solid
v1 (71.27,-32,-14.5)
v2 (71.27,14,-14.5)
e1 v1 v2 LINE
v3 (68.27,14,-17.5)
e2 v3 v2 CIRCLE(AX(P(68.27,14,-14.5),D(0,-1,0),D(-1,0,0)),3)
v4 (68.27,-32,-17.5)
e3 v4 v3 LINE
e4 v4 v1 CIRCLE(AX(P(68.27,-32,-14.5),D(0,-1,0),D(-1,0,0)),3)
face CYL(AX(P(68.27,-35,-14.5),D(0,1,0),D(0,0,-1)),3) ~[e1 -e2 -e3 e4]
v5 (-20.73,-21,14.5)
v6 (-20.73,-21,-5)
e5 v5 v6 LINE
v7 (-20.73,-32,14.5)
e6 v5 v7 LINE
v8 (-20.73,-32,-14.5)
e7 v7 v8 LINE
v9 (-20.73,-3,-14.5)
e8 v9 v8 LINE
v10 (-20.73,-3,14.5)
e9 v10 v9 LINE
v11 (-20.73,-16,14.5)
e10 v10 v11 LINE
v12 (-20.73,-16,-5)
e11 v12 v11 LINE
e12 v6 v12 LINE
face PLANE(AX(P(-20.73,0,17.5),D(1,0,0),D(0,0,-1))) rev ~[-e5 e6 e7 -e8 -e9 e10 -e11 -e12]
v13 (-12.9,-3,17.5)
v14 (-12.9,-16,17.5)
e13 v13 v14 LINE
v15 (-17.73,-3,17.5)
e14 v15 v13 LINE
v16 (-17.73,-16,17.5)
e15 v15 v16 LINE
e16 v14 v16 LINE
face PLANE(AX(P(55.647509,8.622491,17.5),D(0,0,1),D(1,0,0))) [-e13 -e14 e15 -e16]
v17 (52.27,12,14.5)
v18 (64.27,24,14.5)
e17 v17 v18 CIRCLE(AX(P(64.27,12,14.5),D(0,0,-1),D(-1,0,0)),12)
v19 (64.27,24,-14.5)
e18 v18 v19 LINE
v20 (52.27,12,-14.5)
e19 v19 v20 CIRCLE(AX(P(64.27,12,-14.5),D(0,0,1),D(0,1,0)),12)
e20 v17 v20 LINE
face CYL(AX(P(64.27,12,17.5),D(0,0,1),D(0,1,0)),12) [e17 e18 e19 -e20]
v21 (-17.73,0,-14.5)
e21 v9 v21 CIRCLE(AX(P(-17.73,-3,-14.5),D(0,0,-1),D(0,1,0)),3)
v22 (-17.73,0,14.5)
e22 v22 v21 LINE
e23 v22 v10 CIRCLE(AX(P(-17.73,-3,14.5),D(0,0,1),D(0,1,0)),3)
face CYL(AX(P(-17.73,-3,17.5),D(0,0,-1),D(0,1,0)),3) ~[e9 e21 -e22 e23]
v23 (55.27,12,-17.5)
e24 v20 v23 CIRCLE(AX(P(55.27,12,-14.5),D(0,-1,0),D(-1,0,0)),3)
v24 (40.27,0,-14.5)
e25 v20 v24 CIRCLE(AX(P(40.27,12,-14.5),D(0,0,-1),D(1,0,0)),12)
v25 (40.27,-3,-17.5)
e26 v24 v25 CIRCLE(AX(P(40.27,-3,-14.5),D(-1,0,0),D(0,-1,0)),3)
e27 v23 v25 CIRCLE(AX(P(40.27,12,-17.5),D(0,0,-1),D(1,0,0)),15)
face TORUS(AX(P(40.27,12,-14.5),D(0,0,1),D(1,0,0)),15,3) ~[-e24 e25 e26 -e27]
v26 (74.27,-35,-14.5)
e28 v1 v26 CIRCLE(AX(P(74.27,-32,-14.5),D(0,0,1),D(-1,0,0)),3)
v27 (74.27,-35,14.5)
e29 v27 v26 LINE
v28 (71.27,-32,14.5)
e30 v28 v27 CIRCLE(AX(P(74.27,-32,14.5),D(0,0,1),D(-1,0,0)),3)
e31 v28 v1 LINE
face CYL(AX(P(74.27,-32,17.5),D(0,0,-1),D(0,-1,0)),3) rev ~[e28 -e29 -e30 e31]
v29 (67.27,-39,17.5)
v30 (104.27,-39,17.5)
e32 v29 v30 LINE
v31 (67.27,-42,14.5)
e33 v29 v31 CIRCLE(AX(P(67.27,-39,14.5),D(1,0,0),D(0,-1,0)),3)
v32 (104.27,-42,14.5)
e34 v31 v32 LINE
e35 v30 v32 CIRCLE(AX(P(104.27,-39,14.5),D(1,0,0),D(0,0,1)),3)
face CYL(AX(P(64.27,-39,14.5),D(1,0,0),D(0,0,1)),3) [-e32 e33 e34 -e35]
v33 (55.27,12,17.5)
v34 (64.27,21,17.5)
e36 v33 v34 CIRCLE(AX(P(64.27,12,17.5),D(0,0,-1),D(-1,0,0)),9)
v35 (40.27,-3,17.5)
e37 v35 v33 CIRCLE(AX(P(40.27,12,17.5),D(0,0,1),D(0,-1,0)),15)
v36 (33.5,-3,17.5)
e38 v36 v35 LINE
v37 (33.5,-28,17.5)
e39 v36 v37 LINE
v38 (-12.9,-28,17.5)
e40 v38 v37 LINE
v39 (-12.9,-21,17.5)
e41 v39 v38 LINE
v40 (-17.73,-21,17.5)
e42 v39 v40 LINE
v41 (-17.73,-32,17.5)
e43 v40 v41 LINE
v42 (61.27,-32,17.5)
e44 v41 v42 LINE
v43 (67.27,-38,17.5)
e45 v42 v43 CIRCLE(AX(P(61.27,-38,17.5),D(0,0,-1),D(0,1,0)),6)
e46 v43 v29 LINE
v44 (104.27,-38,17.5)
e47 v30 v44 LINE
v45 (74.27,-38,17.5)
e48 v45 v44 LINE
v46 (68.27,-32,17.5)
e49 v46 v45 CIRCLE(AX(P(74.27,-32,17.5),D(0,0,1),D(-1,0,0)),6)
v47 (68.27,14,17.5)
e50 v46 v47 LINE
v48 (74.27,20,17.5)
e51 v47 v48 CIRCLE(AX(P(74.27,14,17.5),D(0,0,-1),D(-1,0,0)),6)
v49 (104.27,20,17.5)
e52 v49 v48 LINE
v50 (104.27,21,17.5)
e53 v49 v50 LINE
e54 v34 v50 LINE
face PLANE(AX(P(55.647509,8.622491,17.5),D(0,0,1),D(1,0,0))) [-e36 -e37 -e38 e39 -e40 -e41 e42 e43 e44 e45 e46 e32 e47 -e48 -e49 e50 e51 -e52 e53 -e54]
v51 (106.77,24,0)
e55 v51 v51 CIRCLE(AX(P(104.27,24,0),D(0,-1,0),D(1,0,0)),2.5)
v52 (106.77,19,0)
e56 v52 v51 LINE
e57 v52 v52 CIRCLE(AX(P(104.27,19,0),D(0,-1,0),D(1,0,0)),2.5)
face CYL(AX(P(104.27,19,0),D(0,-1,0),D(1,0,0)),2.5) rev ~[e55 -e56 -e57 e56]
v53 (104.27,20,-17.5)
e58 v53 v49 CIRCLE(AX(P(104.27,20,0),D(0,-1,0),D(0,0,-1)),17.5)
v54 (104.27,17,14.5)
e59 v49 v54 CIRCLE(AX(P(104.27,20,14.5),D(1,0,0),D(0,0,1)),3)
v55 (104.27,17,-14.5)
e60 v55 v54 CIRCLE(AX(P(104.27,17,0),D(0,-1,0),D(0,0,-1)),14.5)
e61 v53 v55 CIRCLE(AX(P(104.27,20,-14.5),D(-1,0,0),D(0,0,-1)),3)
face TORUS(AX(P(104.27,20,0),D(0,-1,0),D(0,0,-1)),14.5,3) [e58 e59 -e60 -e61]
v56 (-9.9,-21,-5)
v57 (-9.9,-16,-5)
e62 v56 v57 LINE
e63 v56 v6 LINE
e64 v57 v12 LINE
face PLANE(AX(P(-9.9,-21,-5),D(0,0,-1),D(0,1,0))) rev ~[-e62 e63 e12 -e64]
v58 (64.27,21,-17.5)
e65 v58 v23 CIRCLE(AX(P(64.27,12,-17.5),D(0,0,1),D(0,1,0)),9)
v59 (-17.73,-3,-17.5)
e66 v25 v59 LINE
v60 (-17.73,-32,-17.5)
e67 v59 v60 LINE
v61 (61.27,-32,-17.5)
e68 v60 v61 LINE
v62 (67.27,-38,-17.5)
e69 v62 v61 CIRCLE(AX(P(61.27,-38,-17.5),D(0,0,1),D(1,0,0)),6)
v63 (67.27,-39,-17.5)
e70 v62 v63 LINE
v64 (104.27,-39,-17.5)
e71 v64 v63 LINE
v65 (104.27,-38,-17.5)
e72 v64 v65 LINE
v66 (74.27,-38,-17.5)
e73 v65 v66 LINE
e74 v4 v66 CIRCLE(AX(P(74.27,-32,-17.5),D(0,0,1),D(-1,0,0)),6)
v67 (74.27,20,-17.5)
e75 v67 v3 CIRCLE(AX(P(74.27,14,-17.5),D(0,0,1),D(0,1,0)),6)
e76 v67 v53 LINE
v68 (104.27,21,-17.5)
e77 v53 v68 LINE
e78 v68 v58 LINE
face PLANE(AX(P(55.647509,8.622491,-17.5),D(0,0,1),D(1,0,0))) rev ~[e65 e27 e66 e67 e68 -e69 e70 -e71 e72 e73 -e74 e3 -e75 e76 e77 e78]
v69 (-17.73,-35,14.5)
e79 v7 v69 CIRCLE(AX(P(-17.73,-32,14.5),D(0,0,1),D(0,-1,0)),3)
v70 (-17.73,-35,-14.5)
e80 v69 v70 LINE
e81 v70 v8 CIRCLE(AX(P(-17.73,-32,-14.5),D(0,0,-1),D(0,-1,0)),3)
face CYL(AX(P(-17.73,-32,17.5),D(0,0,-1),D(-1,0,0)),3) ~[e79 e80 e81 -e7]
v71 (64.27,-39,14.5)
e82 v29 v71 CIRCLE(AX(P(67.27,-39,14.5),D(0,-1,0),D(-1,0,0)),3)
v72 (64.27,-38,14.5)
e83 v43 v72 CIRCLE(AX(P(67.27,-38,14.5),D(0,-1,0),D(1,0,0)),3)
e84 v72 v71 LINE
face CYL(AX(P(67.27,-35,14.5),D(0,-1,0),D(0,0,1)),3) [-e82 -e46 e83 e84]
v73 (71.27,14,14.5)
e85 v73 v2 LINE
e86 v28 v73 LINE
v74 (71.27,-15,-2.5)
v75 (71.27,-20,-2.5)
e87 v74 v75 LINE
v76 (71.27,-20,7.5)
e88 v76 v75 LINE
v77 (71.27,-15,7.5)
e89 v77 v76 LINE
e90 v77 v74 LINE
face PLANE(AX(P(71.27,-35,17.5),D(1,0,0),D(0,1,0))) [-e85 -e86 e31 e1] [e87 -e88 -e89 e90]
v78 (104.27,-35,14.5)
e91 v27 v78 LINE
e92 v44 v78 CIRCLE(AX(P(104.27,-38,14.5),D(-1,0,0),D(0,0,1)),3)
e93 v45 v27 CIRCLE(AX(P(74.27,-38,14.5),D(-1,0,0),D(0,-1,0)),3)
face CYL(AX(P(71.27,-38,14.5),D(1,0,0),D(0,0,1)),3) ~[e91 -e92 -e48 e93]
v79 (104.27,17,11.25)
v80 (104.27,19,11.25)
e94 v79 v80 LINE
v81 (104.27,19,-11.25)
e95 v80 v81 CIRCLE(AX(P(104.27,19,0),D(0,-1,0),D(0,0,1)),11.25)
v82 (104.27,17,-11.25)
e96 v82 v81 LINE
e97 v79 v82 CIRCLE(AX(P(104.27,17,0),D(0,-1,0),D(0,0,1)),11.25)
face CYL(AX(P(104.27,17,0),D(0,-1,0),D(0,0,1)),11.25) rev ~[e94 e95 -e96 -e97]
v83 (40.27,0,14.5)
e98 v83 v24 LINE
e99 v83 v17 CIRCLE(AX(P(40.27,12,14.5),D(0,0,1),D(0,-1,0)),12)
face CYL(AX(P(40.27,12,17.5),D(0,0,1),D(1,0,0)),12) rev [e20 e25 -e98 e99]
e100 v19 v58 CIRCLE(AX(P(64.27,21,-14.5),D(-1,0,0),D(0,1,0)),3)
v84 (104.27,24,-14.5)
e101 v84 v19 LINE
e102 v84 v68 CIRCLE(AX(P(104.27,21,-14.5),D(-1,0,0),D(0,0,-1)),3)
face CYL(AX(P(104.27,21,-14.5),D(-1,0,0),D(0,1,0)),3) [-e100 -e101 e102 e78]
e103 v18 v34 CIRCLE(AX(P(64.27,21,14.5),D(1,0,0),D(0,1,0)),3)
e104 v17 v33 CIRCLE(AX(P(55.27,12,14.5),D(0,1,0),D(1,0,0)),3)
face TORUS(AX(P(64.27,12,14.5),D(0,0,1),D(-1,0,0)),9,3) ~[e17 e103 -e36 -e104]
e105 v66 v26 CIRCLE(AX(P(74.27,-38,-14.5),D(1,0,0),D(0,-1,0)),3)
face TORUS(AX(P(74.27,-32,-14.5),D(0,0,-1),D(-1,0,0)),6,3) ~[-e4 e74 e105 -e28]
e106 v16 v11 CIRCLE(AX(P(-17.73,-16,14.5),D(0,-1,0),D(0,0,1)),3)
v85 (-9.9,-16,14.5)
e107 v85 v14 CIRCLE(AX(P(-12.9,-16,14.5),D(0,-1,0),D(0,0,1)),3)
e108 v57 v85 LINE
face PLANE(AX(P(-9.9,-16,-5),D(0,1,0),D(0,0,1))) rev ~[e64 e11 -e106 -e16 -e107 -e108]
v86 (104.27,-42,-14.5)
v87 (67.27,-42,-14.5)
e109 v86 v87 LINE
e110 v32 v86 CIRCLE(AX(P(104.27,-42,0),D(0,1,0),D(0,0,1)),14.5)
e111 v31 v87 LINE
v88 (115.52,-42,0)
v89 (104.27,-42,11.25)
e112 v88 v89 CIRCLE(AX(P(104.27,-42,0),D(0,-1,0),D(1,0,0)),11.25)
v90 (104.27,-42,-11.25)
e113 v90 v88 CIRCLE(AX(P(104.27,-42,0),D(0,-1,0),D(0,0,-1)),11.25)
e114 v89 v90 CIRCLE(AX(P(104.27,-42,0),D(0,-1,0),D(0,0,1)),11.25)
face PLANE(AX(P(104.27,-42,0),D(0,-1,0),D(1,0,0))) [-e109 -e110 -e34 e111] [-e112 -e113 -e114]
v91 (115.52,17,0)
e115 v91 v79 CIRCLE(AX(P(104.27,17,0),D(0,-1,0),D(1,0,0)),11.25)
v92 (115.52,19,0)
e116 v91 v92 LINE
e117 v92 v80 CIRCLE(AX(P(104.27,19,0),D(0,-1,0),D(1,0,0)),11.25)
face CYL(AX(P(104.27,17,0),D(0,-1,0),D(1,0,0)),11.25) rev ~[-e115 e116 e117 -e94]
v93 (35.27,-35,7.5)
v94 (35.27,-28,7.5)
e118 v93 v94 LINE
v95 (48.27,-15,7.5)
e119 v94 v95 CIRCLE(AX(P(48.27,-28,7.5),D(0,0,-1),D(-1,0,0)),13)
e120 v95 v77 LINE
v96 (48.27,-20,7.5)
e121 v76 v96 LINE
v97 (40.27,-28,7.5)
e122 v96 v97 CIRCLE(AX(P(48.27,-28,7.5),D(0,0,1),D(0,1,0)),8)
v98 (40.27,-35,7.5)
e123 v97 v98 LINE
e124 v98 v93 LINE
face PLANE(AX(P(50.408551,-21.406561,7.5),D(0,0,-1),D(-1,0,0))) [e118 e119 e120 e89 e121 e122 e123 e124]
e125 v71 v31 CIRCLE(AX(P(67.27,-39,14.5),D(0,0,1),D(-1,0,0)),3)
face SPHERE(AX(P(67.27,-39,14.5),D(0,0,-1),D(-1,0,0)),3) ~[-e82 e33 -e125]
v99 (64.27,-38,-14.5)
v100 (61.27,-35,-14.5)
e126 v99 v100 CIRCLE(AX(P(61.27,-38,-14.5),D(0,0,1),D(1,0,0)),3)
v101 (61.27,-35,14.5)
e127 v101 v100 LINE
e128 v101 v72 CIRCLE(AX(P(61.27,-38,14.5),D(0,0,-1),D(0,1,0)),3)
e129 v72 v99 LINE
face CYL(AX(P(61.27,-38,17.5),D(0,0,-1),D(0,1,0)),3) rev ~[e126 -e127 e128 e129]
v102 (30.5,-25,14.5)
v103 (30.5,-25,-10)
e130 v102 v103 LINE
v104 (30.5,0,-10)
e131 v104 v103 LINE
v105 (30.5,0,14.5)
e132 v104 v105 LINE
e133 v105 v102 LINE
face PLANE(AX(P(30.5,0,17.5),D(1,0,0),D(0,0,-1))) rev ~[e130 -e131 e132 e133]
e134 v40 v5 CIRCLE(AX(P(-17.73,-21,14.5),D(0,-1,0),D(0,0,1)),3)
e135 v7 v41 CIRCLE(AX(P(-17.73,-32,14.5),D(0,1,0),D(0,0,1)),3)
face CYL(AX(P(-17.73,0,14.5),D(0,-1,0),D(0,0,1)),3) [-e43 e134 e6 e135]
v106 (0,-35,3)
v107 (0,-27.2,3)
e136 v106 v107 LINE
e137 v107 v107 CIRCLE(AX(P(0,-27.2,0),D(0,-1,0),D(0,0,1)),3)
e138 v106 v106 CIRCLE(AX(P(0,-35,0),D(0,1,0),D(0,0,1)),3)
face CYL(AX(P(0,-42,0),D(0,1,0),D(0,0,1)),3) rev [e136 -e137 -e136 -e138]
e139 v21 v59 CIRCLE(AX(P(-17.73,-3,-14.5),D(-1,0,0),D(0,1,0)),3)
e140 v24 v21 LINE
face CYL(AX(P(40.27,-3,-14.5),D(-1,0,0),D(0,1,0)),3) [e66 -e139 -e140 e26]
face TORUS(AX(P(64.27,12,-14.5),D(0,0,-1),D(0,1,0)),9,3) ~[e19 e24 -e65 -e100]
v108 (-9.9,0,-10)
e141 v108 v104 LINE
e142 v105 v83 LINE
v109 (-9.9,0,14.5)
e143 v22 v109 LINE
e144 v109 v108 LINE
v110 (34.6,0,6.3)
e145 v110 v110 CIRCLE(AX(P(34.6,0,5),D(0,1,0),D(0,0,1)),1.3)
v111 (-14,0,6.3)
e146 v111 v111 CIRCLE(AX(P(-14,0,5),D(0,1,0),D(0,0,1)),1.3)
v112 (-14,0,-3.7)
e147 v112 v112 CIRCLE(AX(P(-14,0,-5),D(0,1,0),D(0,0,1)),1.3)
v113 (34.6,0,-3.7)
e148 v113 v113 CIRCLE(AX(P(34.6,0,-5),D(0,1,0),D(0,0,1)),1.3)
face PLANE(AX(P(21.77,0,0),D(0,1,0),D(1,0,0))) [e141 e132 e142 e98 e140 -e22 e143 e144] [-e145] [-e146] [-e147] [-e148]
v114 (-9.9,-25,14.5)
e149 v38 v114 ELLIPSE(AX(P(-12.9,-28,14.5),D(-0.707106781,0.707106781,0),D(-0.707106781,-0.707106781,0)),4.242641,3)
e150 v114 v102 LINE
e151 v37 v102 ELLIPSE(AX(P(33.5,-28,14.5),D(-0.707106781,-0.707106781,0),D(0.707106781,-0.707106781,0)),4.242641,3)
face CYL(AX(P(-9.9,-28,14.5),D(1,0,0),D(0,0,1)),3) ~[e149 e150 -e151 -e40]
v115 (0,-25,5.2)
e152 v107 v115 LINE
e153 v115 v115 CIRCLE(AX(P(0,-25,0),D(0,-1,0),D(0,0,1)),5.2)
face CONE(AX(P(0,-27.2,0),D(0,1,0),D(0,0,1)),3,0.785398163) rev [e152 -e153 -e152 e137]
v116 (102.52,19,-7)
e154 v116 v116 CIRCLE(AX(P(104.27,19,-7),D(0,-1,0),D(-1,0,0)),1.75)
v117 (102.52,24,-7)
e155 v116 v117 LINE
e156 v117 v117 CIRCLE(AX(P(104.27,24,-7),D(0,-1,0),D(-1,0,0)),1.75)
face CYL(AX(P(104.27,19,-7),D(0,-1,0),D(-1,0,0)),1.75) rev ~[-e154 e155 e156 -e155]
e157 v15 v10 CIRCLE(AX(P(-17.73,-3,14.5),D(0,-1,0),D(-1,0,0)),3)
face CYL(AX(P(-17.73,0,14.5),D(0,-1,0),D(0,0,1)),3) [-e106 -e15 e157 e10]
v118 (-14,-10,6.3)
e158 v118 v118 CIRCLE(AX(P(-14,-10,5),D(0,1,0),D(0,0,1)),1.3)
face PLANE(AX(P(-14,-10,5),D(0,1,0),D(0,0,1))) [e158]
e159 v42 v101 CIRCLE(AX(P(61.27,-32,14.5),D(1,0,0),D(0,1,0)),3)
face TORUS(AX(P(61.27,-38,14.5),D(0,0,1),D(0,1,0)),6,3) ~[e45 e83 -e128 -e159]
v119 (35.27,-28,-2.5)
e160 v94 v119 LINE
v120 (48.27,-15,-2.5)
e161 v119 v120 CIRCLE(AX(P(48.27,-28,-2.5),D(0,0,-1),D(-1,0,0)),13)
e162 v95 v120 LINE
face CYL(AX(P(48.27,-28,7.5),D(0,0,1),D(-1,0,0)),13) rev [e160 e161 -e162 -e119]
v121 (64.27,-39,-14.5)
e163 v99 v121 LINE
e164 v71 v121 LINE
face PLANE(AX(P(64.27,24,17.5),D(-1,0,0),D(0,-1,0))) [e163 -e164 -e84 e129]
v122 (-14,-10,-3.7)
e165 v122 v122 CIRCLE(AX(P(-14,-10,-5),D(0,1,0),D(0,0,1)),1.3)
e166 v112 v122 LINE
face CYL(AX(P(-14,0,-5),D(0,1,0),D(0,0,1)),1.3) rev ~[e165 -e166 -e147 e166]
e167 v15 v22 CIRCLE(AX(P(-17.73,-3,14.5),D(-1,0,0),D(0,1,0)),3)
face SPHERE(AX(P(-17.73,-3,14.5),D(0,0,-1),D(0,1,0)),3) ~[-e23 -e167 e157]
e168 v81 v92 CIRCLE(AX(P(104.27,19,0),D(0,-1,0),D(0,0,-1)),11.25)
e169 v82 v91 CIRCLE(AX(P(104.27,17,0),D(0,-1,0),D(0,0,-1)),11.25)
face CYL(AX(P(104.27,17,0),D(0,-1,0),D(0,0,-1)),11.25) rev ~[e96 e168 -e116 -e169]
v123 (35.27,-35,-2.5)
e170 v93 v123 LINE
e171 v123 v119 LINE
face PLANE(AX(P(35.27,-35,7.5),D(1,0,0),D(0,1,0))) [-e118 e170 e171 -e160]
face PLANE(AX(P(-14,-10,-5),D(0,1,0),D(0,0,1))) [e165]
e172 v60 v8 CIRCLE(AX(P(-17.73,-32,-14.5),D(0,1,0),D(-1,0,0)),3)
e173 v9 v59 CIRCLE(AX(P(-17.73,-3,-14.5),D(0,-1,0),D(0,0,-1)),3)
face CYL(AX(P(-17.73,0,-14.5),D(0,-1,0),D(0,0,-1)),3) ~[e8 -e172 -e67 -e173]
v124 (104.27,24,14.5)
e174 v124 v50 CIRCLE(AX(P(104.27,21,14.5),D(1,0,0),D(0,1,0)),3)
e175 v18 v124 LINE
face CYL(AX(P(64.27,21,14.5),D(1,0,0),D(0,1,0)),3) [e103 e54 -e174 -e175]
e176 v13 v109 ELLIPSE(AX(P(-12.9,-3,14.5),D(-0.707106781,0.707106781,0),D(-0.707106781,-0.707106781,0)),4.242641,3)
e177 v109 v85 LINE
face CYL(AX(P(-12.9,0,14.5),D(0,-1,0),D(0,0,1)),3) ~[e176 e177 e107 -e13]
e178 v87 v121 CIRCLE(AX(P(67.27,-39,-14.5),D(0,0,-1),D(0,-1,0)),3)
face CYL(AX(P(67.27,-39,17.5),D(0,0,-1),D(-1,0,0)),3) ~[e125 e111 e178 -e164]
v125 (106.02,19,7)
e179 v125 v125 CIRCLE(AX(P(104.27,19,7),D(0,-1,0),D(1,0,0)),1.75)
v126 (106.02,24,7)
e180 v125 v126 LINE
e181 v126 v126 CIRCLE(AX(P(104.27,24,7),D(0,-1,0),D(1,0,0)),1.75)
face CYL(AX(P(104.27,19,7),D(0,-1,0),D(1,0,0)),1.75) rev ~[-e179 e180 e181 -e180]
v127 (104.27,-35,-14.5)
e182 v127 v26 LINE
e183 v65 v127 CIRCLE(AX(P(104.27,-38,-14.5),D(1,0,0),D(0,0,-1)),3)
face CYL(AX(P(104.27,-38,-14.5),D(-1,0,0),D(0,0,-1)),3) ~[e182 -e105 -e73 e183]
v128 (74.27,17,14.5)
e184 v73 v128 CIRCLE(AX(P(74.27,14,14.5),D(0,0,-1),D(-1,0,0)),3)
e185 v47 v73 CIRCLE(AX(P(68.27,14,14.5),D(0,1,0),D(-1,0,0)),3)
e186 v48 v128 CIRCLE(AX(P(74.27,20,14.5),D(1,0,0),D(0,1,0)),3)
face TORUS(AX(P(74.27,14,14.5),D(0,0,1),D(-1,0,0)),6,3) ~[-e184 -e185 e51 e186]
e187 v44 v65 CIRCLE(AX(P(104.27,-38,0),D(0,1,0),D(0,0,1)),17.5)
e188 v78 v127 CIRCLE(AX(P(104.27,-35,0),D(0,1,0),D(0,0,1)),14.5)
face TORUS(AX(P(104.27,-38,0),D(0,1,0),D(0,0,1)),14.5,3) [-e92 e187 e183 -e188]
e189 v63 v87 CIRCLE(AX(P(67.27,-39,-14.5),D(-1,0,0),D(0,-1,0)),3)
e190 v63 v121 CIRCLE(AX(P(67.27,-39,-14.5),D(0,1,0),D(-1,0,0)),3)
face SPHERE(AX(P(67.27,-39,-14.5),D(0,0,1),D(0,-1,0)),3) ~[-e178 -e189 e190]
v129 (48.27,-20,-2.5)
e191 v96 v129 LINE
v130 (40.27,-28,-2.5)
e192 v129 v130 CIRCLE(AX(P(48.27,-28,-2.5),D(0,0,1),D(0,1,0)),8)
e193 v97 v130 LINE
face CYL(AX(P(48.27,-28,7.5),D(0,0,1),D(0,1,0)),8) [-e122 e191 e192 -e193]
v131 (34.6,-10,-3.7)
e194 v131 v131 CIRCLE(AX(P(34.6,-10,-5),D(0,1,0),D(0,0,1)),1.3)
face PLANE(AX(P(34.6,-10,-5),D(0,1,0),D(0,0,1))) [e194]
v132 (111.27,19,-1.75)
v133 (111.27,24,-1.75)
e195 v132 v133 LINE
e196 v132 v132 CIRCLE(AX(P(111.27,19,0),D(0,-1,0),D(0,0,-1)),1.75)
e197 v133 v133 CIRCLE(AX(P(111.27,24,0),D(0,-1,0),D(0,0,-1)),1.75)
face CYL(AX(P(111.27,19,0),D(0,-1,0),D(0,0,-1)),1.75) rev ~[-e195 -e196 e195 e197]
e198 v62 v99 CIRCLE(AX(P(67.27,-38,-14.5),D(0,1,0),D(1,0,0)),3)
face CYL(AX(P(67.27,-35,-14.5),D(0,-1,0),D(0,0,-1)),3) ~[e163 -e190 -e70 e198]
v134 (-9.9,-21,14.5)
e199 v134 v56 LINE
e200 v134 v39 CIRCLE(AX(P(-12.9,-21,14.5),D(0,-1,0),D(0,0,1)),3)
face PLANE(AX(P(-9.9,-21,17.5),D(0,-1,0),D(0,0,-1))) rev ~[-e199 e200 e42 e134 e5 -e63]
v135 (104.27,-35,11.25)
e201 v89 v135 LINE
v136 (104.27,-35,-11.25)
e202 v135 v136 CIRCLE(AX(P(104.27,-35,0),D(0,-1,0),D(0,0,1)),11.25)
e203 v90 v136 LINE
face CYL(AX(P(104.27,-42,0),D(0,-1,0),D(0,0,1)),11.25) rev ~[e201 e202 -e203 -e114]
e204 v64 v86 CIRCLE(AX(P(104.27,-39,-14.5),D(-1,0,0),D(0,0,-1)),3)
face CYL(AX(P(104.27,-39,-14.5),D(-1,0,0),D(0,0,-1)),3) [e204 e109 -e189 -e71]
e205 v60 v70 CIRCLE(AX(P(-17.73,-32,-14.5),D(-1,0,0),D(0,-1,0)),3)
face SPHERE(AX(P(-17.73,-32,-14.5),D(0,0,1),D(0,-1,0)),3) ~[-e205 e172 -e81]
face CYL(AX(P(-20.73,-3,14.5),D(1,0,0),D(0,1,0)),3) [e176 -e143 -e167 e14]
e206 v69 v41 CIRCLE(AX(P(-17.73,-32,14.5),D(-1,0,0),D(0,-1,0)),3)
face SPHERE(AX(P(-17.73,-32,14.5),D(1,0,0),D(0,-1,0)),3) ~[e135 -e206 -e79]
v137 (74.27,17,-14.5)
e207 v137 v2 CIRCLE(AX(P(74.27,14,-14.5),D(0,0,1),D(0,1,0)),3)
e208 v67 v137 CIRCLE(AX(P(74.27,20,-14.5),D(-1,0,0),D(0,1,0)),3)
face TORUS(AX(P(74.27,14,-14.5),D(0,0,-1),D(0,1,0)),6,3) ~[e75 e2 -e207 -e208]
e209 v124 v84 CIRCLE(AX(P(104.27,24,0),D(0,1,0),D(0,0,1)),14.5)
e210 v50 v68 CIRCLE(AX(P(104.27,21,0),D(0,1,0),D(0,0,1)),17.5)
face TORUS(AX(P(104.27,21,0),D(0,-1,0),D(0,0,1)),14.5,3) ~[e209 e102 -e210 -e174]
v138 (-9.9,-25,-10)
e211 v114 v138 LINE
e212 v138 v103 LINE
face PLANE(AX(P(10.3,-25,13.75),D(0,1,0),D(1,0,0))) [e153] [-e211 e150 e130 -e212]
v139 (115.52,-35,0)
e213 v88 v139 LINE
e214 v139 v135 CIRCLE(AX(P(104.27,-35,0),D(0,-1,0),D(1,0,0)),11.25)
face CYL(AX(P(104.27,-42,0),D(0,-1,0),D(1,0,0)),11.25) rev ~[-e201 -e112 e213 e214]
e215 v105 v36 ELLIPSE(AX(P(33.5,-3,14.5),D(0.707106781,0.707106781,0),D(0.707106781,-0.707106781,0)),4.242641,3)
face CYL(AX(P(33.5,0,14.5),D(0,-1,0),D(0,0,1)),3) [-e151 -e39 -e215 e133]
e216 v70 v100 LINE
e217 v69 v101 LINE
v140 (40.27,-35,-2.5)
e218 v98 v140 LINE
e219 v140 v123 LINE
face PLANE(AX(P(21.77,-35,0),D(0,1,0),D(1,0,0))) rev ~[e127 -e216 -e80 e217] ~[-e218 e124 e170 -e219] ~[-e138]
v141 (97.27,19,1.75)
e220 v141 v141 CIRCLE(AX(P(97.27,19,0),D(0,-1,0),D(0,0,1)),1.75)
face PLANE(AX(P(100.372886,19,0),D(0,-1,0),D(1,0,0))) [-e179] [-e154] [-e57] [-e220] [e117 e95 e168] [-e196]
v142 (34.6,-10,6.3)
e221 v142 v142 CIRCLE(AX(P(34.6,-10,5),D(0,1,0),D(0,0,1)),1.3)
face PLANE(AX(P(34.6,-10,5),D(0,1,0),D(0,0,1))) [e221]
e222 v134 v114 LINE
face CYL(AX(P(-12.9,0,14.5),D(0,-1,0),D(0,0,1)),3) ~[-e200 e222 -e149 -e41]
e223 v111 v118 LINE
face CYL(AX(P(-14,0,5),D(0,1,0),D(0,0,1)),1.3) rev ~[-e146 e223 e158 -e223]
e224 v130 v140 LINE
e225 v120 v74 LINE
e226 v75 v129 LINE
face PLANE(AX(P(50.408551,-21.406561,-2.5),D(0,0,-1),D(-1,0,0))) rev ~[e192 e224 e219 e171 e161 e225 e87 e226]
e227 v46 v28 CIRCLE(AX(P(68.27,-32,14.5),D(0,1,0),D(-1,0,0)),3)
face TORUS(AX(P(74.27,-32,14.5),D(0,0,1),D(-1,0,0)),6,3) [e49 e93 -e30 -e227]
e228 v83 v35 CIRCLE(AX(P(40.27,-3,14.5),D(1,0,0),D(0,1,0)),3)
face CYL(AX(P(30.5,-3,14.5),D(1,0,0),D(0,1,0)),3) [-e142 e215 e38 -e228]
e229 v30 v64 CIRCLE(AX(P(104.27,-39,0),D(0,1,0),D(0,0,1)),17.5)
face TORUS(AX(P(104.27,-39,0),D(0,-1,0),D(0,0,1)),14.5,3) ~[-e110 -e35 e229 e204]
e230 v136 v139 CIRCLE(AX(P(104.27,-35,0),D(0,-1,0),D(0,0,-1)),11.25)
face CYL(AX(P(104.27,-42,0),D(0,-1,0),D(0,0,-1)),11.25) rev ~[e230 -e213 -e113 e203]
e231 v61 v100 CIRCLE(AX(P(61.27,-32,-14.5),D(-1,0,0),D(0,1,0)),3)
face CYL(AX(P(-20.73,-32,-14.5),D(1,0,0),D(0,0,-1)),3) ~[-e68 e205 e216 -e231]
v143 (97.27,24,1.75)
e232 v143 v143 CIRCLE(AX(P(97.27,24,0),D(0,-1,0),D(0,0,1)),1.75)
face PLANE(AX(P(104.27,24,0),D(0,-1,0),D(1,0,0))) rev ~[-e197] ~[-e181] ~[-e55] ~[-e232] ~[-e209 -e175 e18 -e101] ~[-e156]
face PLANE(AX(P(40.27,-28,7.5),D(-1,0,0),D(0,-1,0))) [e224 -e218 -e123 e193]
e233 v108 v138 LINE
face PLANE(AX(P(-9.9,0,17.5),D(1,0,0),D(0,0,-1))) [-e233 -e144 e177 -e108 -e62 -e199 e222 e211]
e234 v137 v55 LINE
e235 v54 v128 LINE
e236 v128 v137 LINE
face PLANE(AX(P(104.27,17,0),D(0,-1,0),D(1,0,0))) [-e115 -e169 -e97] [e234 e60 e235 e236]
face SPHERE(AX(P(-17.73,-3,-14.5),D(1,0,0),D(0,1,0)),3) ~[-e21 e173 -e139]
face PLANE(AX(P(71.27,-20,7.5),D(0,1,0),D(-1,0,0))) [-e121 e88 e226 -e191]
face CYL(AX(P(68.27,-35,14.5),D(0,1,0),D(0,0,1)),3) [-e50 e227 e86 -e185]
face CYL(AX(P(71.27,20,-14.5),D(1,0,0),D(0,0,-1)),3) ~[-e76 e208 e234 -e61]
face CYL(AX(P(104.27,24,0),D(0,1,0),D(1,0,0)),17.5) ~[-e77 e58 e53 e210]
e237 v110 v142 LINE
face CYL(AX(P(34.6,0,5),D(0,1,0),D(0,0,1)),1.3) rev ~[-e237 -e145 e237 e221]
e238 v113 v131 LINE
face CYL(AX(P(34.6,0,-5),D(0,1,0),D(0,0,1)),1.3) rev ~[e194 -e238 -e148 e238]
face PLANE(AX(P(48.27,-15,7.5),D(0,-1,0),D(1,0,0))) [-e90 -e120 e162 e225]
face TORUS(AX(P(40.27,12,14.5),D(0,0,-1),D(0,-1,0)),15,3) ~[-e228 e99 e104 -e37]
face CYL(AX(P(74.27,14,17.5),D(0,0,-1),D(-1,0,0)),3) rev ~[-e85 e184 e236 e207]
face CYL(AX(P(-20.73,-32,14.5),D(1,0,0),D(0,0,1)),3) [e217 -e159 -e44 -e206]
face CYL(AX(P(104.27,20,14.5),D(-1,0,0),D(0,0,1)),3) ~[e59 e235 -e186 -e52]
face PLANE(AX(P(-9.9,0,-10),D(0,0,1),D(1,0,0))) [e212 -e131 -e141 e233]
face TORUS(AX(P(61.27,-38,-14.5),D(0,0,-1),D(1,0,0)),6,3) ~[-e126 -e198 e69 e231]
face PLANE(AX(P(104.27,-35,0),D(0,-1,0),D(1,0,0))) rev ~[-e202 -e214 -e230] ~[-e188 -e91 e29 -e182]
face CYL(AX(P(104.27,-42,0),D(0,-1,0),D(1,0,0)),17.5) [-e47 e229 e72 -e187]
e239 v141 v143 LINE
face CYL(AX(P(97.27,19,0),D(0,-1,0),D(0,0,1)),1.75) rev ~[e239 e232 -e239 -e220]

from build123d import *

# Parameters (mm, degrees)
SKETCH1_W               = 85
SKETCH1_H               = 35
BOSS_EXTRUDE1_DEPTH     = 35
SKETCH1_3_W             = 40.4
SKETCH1_3_H             = 20
SKETCH1_3_R             = 3.9
SKETCH1_3_H_2           = 7.5
CUT_EXTRUDE1_DEPTH      = 25
SKETCH1_6_R             = 1.3
CUT_EXTRUDE3_DEPTH      = 10
EXTRUDE_THIN1_DEPTH     = 35
SKETCH3_R               = 17.5
BOSS_EXTRUDE2_DEPTH     = 7
BOSS_EXTRUDE3_START     = -66
SKETCH3_3_R             = 17.5
BOSS_EXTRUDE3_DEPTH     = 7
BOSS_EXTRUDE6_DEPTH     = 35
FILLET3_R               = 3
CUT_EXTRUDE4_REACH      = 141.607
SKETCH4_7_W             = 22.5
SKETCH4_7_H             = 5
SKETCH4_7_W_2           = 3
CUT_EXTRUDE8_DEPTH      = 140.309866497
CUT_EXTRUDE9_START      = -59
CUT_EXTRUDE9_DEPTH      = 2
CUT_EXTRUDE10_REACH     = 139.314
SKETCH5_R               = 2.5
SKETCH5_R_2             = 1.75
CIRPATTERN1_COUNT       = 4
CUT_EXTRUDE_THIN1_START = -10
CUT_EXTRUDE_THIN1_DEPTH = 10


with BuildPart() as part:
    # Sketch1 → Boss-Extrude1 (new body)
    with BuildSketch(Plane(origin=(0, 0, 0), x_dir=(1, 0, 0), z_dir=(0, 1, 0))):
        with Locations((21.77, 0)):
            Rectangle(SKETCH1_W, SKETCH1_H)
    extrude(amount=-BOSS_EXTRUDE1_DEPTH)

    # Sketch1<3> → Cut-Extrude1 (cut)
    # profile 1 of 3: a face of its own
    with BuildSketch(Plane(origin=(0, 0, 0), x_dir=(1, 0, 0), z_dir=(0, 1, 0))):
        with Locations((10.3, 0)):
            Rectangle(SKETCH1_3_W, SKETCH1_3_H)
        Circle(SKETCH1_3_R, mode=Mode.SUBTRACT)
    # profile 2 of 3: a face of its own
    with BuildSketch(Plane(origin=(0, 0, 0), x_dir=(1, 0, 0), z_dir=(0, 1, 0))):
        Circle(SKETCH1_3_R)
    # profile 3 of 3: a face of its own
    with BuildSketch(Plane(origin=(0, 0, 0), x_dir=(1, 0, 0), z_dir=(0, 1, 0))):
        with Locations((10.3, -13.75)):
            Rectangle(SKETCH1_3_W, SKETCH1_3_H_2)
    extrude(amount=-CUT_EXTRUDE1_DEPTH, mode=Mode.SUBTRACT)

    # Sketch1<6> → Cut-Extrude3 (cut)
    with BuildSketch(Plane(origin=(0, 0, 0), x_dir=(1, 0, 0), z_dir=(0, 1, 0))):
        with Locations(Location((-14, 5, 0), (0, 0, 270))):
            Circle(SKETCH1_6_R)
        with Locations(Location((-14, -5, 0), (0, 0, 270))):
            Circle(SKETCH1_6_R)
        with Locations(Location((34.6, 5, 0), (0, 0, 270))):
            Circle(SKETCH1_6_R)
        with Locations(Location((34.6, -5, 0), (0, 0, 270))):
            Circle(SKETCH1_6_R)
    extrude(amount=-CUT_EXTRUDE3_DEPTH, mode=Mode.SUBTRACT)

    # Sketch2 → Extrude-Thin1 (add)
    with BuildSketch(Plane.XY.offset(17.5)):
        Polygon((104.27, 24), (64.27, 24), (64.27, -42), (104.27, -42), (104.27, -35), (71.27, -35), (71.27, 17), (104.27, 17), align=None)
    extrude(amount=-EXTRUDE_THIN1_DEPTH)

    # Sketch3 → Boss-Extrude2 (add)
    with BuildSketch(Plane.XZ.offset(42)):
        with Locations((104.27, 0)):
            Circle(SKETCH3_R)
    extrude(amount=-BOSS_EXTRUDE2_DEPTH)

    # Sketch3<3> → Boss-Extrude3 (add)
    with BuildSketch(Plane.XZ.offset(42).offset(BOSS_EXTRUDE3_START)):
        with Locations((104.27, 0)):
            Circle(SKETCH3_3_R)
    extrude(amount=BOSS_EXTRUDE3_DEPTH)

    # Sketch16 → Boss-Extrude6 (add)
    with BuildSketch(Plane.XY.offset(17.5)):
        with BuildLine():
            ThreePointArc((52.27, 12), (48.755281374, 3.514718626), (40.27, 0))
            Line((40.27, 0), (64.27, 0))
            Line((64.27, 0), (64.27, 24))
            ThreePointArc((64.27, 24), (55.784718626, 20.485281374), (52.27, 12))
        make_face()
    extrude(amount=-BOSS_EXTRUDE6_DEPTH)

    # Fillet3
    fillet3_edges = [part.edges().sort_by_distance(p)[0] for p in [
        (21.77, -35, 17.5),
        (35.385, 0, 17.5),
        (-20.73, -35, 0),
        (-9.9, -12.5, 17.5),
        (10.3, -25, 17.5),
        (30.5, -12.5, 17.5),
        (64.27, -42, 0),
        (84.27, 24, 17.5),
        (64.27, -38.5, 17.5),
        (84.27, -42, 17.5),
        (71.27, -9, -17.5),
        (71.27, 17, 0),
        (71.27, -9, 17.5),
        (87.77, 17, -17.5),
        (87.77, 17, 17.5),
        (87.77, -35, -17.5),
        (71.27, -35, 0),
        (87.77, -35, 17.5),
        (84.27, -42, -17.5),
        (64.27, -38.5, -17.5),
        (84.27, 24, -17.5),
        (21.77, -35, -17.5),
        (-20.73, 0, 0),
        (-15.315, 0, 17.5),
        (9.77, 0, -17.5),
        (121.77, -42, 0),
        (121.77, -35, 0),
        (121.77, 17, 0),
        (121.77, 24, 0),
        (-20.73, -17.5, -17.5),
        (-20.73, -17.5, 17.5),
        (48.755281374, 3.514718626, -17.5),
        (48.755281374, 3.514718626, 17.5),
        (55.784718626, 20.485281374, 17.5),
        (55.784718626, 20.485281374, -17.5),
        (64.27, -35, 0),
    ]]
    fillet(fillet3_edges, radius=FILLET3_R)

    # Sketch3<4> → Cut-Extrude4 (cut, up to next)
    with BuildSketch(Plane.XZ.offset(42), mode=Mode.PRIVATE) as cut_extrude4_sk1:
        with BuildLine():
            Line((104.27, -11.25), (104.27, 11.25))
            ThreePointArc((104.27, 11.25), (93.02, 0), (104.27, -11.25))
        make_face()
    cut_extrude4_tool1 = extrude(cut_extrude4_sk1.sketch, amount=-CUT_EXTRUDE4_REACH, mode=Mode.PRIVATE) & part.part
    # Sketch3<4> → Cut-Extrude4 (cut, up to next)
    with BuildSketch(Plane.XZ.offset(42), mode=Mode.PRIVATE) as cut_extrude4_sk2:
        with BuildLine():
            ThreePointArc((115.52, 0), (112.224951288, 7.954951288), (104.27, 11.25))
            Line((104.27, 11.25), (104.27, -11.25))
            ThreePointArc((104.27, -11.25), (112.224951288, -7.954951288), (115.52, 0))
        make_face()
    cut_extrude4_tool2 = extrude(cut_extrude4_sk2.sketch, amount=-CUT_EXTRUDE4_REACH, mode=Mode.PRIVATE) & part.part
    # Sketch3<4> → Cut-Extrude4 (cut, up to next)
    with BuildSketch(Plane.XZ.offset(42), mode=Mode.PRIVATE) as cut_extrude4_sk3:
        with BuildLine():
            Line((104.27, -11.25), (104.27, 11.25))
            ThreePointArc((104.27, 11.25), (93.02, 0), (104.27, -11.25))
        make_face()
    cut_extrude4_tool3 = extrude(cut_extrude4_sk3.sketch, amount=-CUT_EXTRUDE4_REACH, mode=Mode.PRIVATE) & part.part
    # Sketch3<4> → Cut-Extrude4 (cut, up to next)
    with BuildSketch(Plane.XZ.offset(42), mode=Mode.PRIVATE) as cut_extrude4_sk4:
        with BuildLine():
            ThreePointArc((115.52, 0), (112.224951288, 7.954951288), (104.27, 11.25))
            Line((104.27, 11.25), (104.27, -11.25))
            ThreePointArc((104.27, -11.25), (112.224951288, -7.954951288), (115.52, 0))
        make_face()
    cut_extrude4_tool4 = extrude(cut_extrude4_sk4.sketch, amount=-CUT_EXTRUDE4_REACH, mode=Mode.PRIVATE) & part.part
    add(cut_extrude4_tool1.solids().sort_by_distance((99.495352, -42, 0))[0], mode=Mode.SUBTRACT)
    add(cut_extrude4_tool2.solids().sort_by_distance((109.044648, -42, 0))[0], mode=Mode.SUBTRACT)
    add(cut_extrude4_tool3.solids().sort_by_distance((99.495352, -42, 0))[0], mode=Mode.SUBTRACT)
    add(cut_extrude4_tool4.solids().sort_by_distance((109.044648, -42, 0))[0], mode=Mode.SUBTRACT)

    # Sketch4<7> → Cut-Extrude8 (cut, through all)
    with BuildSketch(Plane(origin=(-9.9, 0, 0), x_dir=(0, 0, -1), z_dir=(1, 0, 0))):
        with Locations((-6.25, -18.5)):
            Rectangle(SKETCH4_7_W, SKETCH4_7_H)
        with Locations((-16, -18.5)):
            Rectangle(SKETCH4_7_W_2, SKETCH4_7_H)
    extrude(amount=-CUT_EXTRUDE8_DEPTH, mode=Mode.SUBTRACT)

    # Sketch3<5> → Cut-Extrude9 (cut)
    with BuildSketch(Plane.XZ.offset(42).offset(CUT_EXTRUDE9_START)):
        with BuildLine():
            Line((104.27, -11.25), (104.27, 11.25))
            ThreePointArc((104.27, 11.25), (93.02, 0), (104.27, -11.25))
        make_face()
        with BuildLine():
            ThreePointArc((115.52, 0), (112.224951288, 7.954951288), (104.27, 11.25))
            Line((104.27, 11.25), (104.27, -11.25))
            ThreePointArc((104.27, -11.25), (112.224951288, -7.954951288), (115.52, 0))
        make_face()
    extrude(amount=-CUT_EXTRUDE9_DEPTH, mode=Mode.SUBTRACT)

    # Sketch5 → Cut-Extrude10 (cut, up to next)
    with BuildSketch(Plane(origin=(0, 19, 0), x_dir=(-1, 0, 0), z_dir=(0, -1, 0)), mode=Mode.PRIVATE) as cut_extrude10_sk1:
        with Locations(Location((-104.27, 0, 0), (0, 0, 180))):
            Circle(SKETCH5_R)
    cut_extrude10_tool1 = extrude(cut_extrude10_sk1.sketch, amount=-CUT_EXTRUDE10_REACH, mode=Mode.PRIVATE) & part.part
    # Sketch5 → Cut-Extrude10 (cut, up to next)
    with BuildSketch(Plane(origin=(0, 19, 0), x_dir=(-1, 0, 0), z_dir=(0, -1, 0)), mode=Mode.PRIVATE) as cut_extrude10_sk2:
        with Locations(Location((-104.27, -7, 0), (0, 0, 180))):
            Circle(SKETCH5_R_2)
    cut_extrude10_tool2 = extrude(cut_extrude10_sk2.sketch, amount=-CUT_EXTRUDE10_REACH, mode=Mode.PRIVATE) & part.part
    cut_extrude10_1 = cut_extrude10_tool1.solids().sort_by_distance((104.27, 19, 0))[0]
    add(cut_extrude10_1, mode=Mode.SUBTRACT)
    cut_extrude10_2 = cut_extrude10_tool2.solids().sort_by_distance((104.27, 19, 7))[0]
    add(cut_extrude10_2, mode=Mode.SUBTRACT)
    cut_extrude10 = cut_extrude10_1 + cut_extrude10_2  # Cut-Extrude10 as one shape, for the pattern or mirror that repeats it

    # CirPattern1: Cut-Extrude10 ×4 about axis
    cirpattern1_axis = Axis((104.27, 0, 0), (0, 1, 0))
    for i in range(1, CIRPATTERN1_COUNT):
        add(cut_extrude10.rotate(cirpattern1_axis, i * 360 / CIRPATTERN1_COUNT), mode=Mode.SUBTRACT)

    # Sketch9 → CSK for M5 Flat Head Machine Screw1 (revolve, cut)
    with BuildSketch(Plane(origin=(0, -25, 0), x_dir=(0, 0, 1), z_dir=(1, 0, 0))):
        Polygon((0, 0), (0, 17), (3, 17), (3, 2.2), (5.2, 0), align=None)
    revolve(axis=Axis((0, -18.65, 0), (0, -1, 0)), mode=Mode.SUBTRACT)

    # Sketch11 → Cut-Extrude-Thin1 (cut)
    with BuildSketch(Plane.XY.offset(17.5).offset(CUT_EXTRUDE_THIN1_START)):
        with BuildLine():
            Line((71.27, -20), (48.27, -20))
            ThreePointArc((48.27, -20), (42.613145751, -22.343145751), (40.27, -28))
            Line((40.27, -28), (40.27, -35))
            Line((40.27, -35), (35.27, -35))
            Line((35.27, -35), (35.27, -28))
            ThreePointArc((35.27, -28), (39.077611845, -18.807611845), (48.27, -15))
            Line((48.27, -15), (71.27, -15))
            Line((71.27, -15), (71.27, -20))
        make_face()
    extrude(amount=-CUT_EXTRUDE_THIN1_DEPTH, mode=Mode.SUBTRACT)


solid = part.part
